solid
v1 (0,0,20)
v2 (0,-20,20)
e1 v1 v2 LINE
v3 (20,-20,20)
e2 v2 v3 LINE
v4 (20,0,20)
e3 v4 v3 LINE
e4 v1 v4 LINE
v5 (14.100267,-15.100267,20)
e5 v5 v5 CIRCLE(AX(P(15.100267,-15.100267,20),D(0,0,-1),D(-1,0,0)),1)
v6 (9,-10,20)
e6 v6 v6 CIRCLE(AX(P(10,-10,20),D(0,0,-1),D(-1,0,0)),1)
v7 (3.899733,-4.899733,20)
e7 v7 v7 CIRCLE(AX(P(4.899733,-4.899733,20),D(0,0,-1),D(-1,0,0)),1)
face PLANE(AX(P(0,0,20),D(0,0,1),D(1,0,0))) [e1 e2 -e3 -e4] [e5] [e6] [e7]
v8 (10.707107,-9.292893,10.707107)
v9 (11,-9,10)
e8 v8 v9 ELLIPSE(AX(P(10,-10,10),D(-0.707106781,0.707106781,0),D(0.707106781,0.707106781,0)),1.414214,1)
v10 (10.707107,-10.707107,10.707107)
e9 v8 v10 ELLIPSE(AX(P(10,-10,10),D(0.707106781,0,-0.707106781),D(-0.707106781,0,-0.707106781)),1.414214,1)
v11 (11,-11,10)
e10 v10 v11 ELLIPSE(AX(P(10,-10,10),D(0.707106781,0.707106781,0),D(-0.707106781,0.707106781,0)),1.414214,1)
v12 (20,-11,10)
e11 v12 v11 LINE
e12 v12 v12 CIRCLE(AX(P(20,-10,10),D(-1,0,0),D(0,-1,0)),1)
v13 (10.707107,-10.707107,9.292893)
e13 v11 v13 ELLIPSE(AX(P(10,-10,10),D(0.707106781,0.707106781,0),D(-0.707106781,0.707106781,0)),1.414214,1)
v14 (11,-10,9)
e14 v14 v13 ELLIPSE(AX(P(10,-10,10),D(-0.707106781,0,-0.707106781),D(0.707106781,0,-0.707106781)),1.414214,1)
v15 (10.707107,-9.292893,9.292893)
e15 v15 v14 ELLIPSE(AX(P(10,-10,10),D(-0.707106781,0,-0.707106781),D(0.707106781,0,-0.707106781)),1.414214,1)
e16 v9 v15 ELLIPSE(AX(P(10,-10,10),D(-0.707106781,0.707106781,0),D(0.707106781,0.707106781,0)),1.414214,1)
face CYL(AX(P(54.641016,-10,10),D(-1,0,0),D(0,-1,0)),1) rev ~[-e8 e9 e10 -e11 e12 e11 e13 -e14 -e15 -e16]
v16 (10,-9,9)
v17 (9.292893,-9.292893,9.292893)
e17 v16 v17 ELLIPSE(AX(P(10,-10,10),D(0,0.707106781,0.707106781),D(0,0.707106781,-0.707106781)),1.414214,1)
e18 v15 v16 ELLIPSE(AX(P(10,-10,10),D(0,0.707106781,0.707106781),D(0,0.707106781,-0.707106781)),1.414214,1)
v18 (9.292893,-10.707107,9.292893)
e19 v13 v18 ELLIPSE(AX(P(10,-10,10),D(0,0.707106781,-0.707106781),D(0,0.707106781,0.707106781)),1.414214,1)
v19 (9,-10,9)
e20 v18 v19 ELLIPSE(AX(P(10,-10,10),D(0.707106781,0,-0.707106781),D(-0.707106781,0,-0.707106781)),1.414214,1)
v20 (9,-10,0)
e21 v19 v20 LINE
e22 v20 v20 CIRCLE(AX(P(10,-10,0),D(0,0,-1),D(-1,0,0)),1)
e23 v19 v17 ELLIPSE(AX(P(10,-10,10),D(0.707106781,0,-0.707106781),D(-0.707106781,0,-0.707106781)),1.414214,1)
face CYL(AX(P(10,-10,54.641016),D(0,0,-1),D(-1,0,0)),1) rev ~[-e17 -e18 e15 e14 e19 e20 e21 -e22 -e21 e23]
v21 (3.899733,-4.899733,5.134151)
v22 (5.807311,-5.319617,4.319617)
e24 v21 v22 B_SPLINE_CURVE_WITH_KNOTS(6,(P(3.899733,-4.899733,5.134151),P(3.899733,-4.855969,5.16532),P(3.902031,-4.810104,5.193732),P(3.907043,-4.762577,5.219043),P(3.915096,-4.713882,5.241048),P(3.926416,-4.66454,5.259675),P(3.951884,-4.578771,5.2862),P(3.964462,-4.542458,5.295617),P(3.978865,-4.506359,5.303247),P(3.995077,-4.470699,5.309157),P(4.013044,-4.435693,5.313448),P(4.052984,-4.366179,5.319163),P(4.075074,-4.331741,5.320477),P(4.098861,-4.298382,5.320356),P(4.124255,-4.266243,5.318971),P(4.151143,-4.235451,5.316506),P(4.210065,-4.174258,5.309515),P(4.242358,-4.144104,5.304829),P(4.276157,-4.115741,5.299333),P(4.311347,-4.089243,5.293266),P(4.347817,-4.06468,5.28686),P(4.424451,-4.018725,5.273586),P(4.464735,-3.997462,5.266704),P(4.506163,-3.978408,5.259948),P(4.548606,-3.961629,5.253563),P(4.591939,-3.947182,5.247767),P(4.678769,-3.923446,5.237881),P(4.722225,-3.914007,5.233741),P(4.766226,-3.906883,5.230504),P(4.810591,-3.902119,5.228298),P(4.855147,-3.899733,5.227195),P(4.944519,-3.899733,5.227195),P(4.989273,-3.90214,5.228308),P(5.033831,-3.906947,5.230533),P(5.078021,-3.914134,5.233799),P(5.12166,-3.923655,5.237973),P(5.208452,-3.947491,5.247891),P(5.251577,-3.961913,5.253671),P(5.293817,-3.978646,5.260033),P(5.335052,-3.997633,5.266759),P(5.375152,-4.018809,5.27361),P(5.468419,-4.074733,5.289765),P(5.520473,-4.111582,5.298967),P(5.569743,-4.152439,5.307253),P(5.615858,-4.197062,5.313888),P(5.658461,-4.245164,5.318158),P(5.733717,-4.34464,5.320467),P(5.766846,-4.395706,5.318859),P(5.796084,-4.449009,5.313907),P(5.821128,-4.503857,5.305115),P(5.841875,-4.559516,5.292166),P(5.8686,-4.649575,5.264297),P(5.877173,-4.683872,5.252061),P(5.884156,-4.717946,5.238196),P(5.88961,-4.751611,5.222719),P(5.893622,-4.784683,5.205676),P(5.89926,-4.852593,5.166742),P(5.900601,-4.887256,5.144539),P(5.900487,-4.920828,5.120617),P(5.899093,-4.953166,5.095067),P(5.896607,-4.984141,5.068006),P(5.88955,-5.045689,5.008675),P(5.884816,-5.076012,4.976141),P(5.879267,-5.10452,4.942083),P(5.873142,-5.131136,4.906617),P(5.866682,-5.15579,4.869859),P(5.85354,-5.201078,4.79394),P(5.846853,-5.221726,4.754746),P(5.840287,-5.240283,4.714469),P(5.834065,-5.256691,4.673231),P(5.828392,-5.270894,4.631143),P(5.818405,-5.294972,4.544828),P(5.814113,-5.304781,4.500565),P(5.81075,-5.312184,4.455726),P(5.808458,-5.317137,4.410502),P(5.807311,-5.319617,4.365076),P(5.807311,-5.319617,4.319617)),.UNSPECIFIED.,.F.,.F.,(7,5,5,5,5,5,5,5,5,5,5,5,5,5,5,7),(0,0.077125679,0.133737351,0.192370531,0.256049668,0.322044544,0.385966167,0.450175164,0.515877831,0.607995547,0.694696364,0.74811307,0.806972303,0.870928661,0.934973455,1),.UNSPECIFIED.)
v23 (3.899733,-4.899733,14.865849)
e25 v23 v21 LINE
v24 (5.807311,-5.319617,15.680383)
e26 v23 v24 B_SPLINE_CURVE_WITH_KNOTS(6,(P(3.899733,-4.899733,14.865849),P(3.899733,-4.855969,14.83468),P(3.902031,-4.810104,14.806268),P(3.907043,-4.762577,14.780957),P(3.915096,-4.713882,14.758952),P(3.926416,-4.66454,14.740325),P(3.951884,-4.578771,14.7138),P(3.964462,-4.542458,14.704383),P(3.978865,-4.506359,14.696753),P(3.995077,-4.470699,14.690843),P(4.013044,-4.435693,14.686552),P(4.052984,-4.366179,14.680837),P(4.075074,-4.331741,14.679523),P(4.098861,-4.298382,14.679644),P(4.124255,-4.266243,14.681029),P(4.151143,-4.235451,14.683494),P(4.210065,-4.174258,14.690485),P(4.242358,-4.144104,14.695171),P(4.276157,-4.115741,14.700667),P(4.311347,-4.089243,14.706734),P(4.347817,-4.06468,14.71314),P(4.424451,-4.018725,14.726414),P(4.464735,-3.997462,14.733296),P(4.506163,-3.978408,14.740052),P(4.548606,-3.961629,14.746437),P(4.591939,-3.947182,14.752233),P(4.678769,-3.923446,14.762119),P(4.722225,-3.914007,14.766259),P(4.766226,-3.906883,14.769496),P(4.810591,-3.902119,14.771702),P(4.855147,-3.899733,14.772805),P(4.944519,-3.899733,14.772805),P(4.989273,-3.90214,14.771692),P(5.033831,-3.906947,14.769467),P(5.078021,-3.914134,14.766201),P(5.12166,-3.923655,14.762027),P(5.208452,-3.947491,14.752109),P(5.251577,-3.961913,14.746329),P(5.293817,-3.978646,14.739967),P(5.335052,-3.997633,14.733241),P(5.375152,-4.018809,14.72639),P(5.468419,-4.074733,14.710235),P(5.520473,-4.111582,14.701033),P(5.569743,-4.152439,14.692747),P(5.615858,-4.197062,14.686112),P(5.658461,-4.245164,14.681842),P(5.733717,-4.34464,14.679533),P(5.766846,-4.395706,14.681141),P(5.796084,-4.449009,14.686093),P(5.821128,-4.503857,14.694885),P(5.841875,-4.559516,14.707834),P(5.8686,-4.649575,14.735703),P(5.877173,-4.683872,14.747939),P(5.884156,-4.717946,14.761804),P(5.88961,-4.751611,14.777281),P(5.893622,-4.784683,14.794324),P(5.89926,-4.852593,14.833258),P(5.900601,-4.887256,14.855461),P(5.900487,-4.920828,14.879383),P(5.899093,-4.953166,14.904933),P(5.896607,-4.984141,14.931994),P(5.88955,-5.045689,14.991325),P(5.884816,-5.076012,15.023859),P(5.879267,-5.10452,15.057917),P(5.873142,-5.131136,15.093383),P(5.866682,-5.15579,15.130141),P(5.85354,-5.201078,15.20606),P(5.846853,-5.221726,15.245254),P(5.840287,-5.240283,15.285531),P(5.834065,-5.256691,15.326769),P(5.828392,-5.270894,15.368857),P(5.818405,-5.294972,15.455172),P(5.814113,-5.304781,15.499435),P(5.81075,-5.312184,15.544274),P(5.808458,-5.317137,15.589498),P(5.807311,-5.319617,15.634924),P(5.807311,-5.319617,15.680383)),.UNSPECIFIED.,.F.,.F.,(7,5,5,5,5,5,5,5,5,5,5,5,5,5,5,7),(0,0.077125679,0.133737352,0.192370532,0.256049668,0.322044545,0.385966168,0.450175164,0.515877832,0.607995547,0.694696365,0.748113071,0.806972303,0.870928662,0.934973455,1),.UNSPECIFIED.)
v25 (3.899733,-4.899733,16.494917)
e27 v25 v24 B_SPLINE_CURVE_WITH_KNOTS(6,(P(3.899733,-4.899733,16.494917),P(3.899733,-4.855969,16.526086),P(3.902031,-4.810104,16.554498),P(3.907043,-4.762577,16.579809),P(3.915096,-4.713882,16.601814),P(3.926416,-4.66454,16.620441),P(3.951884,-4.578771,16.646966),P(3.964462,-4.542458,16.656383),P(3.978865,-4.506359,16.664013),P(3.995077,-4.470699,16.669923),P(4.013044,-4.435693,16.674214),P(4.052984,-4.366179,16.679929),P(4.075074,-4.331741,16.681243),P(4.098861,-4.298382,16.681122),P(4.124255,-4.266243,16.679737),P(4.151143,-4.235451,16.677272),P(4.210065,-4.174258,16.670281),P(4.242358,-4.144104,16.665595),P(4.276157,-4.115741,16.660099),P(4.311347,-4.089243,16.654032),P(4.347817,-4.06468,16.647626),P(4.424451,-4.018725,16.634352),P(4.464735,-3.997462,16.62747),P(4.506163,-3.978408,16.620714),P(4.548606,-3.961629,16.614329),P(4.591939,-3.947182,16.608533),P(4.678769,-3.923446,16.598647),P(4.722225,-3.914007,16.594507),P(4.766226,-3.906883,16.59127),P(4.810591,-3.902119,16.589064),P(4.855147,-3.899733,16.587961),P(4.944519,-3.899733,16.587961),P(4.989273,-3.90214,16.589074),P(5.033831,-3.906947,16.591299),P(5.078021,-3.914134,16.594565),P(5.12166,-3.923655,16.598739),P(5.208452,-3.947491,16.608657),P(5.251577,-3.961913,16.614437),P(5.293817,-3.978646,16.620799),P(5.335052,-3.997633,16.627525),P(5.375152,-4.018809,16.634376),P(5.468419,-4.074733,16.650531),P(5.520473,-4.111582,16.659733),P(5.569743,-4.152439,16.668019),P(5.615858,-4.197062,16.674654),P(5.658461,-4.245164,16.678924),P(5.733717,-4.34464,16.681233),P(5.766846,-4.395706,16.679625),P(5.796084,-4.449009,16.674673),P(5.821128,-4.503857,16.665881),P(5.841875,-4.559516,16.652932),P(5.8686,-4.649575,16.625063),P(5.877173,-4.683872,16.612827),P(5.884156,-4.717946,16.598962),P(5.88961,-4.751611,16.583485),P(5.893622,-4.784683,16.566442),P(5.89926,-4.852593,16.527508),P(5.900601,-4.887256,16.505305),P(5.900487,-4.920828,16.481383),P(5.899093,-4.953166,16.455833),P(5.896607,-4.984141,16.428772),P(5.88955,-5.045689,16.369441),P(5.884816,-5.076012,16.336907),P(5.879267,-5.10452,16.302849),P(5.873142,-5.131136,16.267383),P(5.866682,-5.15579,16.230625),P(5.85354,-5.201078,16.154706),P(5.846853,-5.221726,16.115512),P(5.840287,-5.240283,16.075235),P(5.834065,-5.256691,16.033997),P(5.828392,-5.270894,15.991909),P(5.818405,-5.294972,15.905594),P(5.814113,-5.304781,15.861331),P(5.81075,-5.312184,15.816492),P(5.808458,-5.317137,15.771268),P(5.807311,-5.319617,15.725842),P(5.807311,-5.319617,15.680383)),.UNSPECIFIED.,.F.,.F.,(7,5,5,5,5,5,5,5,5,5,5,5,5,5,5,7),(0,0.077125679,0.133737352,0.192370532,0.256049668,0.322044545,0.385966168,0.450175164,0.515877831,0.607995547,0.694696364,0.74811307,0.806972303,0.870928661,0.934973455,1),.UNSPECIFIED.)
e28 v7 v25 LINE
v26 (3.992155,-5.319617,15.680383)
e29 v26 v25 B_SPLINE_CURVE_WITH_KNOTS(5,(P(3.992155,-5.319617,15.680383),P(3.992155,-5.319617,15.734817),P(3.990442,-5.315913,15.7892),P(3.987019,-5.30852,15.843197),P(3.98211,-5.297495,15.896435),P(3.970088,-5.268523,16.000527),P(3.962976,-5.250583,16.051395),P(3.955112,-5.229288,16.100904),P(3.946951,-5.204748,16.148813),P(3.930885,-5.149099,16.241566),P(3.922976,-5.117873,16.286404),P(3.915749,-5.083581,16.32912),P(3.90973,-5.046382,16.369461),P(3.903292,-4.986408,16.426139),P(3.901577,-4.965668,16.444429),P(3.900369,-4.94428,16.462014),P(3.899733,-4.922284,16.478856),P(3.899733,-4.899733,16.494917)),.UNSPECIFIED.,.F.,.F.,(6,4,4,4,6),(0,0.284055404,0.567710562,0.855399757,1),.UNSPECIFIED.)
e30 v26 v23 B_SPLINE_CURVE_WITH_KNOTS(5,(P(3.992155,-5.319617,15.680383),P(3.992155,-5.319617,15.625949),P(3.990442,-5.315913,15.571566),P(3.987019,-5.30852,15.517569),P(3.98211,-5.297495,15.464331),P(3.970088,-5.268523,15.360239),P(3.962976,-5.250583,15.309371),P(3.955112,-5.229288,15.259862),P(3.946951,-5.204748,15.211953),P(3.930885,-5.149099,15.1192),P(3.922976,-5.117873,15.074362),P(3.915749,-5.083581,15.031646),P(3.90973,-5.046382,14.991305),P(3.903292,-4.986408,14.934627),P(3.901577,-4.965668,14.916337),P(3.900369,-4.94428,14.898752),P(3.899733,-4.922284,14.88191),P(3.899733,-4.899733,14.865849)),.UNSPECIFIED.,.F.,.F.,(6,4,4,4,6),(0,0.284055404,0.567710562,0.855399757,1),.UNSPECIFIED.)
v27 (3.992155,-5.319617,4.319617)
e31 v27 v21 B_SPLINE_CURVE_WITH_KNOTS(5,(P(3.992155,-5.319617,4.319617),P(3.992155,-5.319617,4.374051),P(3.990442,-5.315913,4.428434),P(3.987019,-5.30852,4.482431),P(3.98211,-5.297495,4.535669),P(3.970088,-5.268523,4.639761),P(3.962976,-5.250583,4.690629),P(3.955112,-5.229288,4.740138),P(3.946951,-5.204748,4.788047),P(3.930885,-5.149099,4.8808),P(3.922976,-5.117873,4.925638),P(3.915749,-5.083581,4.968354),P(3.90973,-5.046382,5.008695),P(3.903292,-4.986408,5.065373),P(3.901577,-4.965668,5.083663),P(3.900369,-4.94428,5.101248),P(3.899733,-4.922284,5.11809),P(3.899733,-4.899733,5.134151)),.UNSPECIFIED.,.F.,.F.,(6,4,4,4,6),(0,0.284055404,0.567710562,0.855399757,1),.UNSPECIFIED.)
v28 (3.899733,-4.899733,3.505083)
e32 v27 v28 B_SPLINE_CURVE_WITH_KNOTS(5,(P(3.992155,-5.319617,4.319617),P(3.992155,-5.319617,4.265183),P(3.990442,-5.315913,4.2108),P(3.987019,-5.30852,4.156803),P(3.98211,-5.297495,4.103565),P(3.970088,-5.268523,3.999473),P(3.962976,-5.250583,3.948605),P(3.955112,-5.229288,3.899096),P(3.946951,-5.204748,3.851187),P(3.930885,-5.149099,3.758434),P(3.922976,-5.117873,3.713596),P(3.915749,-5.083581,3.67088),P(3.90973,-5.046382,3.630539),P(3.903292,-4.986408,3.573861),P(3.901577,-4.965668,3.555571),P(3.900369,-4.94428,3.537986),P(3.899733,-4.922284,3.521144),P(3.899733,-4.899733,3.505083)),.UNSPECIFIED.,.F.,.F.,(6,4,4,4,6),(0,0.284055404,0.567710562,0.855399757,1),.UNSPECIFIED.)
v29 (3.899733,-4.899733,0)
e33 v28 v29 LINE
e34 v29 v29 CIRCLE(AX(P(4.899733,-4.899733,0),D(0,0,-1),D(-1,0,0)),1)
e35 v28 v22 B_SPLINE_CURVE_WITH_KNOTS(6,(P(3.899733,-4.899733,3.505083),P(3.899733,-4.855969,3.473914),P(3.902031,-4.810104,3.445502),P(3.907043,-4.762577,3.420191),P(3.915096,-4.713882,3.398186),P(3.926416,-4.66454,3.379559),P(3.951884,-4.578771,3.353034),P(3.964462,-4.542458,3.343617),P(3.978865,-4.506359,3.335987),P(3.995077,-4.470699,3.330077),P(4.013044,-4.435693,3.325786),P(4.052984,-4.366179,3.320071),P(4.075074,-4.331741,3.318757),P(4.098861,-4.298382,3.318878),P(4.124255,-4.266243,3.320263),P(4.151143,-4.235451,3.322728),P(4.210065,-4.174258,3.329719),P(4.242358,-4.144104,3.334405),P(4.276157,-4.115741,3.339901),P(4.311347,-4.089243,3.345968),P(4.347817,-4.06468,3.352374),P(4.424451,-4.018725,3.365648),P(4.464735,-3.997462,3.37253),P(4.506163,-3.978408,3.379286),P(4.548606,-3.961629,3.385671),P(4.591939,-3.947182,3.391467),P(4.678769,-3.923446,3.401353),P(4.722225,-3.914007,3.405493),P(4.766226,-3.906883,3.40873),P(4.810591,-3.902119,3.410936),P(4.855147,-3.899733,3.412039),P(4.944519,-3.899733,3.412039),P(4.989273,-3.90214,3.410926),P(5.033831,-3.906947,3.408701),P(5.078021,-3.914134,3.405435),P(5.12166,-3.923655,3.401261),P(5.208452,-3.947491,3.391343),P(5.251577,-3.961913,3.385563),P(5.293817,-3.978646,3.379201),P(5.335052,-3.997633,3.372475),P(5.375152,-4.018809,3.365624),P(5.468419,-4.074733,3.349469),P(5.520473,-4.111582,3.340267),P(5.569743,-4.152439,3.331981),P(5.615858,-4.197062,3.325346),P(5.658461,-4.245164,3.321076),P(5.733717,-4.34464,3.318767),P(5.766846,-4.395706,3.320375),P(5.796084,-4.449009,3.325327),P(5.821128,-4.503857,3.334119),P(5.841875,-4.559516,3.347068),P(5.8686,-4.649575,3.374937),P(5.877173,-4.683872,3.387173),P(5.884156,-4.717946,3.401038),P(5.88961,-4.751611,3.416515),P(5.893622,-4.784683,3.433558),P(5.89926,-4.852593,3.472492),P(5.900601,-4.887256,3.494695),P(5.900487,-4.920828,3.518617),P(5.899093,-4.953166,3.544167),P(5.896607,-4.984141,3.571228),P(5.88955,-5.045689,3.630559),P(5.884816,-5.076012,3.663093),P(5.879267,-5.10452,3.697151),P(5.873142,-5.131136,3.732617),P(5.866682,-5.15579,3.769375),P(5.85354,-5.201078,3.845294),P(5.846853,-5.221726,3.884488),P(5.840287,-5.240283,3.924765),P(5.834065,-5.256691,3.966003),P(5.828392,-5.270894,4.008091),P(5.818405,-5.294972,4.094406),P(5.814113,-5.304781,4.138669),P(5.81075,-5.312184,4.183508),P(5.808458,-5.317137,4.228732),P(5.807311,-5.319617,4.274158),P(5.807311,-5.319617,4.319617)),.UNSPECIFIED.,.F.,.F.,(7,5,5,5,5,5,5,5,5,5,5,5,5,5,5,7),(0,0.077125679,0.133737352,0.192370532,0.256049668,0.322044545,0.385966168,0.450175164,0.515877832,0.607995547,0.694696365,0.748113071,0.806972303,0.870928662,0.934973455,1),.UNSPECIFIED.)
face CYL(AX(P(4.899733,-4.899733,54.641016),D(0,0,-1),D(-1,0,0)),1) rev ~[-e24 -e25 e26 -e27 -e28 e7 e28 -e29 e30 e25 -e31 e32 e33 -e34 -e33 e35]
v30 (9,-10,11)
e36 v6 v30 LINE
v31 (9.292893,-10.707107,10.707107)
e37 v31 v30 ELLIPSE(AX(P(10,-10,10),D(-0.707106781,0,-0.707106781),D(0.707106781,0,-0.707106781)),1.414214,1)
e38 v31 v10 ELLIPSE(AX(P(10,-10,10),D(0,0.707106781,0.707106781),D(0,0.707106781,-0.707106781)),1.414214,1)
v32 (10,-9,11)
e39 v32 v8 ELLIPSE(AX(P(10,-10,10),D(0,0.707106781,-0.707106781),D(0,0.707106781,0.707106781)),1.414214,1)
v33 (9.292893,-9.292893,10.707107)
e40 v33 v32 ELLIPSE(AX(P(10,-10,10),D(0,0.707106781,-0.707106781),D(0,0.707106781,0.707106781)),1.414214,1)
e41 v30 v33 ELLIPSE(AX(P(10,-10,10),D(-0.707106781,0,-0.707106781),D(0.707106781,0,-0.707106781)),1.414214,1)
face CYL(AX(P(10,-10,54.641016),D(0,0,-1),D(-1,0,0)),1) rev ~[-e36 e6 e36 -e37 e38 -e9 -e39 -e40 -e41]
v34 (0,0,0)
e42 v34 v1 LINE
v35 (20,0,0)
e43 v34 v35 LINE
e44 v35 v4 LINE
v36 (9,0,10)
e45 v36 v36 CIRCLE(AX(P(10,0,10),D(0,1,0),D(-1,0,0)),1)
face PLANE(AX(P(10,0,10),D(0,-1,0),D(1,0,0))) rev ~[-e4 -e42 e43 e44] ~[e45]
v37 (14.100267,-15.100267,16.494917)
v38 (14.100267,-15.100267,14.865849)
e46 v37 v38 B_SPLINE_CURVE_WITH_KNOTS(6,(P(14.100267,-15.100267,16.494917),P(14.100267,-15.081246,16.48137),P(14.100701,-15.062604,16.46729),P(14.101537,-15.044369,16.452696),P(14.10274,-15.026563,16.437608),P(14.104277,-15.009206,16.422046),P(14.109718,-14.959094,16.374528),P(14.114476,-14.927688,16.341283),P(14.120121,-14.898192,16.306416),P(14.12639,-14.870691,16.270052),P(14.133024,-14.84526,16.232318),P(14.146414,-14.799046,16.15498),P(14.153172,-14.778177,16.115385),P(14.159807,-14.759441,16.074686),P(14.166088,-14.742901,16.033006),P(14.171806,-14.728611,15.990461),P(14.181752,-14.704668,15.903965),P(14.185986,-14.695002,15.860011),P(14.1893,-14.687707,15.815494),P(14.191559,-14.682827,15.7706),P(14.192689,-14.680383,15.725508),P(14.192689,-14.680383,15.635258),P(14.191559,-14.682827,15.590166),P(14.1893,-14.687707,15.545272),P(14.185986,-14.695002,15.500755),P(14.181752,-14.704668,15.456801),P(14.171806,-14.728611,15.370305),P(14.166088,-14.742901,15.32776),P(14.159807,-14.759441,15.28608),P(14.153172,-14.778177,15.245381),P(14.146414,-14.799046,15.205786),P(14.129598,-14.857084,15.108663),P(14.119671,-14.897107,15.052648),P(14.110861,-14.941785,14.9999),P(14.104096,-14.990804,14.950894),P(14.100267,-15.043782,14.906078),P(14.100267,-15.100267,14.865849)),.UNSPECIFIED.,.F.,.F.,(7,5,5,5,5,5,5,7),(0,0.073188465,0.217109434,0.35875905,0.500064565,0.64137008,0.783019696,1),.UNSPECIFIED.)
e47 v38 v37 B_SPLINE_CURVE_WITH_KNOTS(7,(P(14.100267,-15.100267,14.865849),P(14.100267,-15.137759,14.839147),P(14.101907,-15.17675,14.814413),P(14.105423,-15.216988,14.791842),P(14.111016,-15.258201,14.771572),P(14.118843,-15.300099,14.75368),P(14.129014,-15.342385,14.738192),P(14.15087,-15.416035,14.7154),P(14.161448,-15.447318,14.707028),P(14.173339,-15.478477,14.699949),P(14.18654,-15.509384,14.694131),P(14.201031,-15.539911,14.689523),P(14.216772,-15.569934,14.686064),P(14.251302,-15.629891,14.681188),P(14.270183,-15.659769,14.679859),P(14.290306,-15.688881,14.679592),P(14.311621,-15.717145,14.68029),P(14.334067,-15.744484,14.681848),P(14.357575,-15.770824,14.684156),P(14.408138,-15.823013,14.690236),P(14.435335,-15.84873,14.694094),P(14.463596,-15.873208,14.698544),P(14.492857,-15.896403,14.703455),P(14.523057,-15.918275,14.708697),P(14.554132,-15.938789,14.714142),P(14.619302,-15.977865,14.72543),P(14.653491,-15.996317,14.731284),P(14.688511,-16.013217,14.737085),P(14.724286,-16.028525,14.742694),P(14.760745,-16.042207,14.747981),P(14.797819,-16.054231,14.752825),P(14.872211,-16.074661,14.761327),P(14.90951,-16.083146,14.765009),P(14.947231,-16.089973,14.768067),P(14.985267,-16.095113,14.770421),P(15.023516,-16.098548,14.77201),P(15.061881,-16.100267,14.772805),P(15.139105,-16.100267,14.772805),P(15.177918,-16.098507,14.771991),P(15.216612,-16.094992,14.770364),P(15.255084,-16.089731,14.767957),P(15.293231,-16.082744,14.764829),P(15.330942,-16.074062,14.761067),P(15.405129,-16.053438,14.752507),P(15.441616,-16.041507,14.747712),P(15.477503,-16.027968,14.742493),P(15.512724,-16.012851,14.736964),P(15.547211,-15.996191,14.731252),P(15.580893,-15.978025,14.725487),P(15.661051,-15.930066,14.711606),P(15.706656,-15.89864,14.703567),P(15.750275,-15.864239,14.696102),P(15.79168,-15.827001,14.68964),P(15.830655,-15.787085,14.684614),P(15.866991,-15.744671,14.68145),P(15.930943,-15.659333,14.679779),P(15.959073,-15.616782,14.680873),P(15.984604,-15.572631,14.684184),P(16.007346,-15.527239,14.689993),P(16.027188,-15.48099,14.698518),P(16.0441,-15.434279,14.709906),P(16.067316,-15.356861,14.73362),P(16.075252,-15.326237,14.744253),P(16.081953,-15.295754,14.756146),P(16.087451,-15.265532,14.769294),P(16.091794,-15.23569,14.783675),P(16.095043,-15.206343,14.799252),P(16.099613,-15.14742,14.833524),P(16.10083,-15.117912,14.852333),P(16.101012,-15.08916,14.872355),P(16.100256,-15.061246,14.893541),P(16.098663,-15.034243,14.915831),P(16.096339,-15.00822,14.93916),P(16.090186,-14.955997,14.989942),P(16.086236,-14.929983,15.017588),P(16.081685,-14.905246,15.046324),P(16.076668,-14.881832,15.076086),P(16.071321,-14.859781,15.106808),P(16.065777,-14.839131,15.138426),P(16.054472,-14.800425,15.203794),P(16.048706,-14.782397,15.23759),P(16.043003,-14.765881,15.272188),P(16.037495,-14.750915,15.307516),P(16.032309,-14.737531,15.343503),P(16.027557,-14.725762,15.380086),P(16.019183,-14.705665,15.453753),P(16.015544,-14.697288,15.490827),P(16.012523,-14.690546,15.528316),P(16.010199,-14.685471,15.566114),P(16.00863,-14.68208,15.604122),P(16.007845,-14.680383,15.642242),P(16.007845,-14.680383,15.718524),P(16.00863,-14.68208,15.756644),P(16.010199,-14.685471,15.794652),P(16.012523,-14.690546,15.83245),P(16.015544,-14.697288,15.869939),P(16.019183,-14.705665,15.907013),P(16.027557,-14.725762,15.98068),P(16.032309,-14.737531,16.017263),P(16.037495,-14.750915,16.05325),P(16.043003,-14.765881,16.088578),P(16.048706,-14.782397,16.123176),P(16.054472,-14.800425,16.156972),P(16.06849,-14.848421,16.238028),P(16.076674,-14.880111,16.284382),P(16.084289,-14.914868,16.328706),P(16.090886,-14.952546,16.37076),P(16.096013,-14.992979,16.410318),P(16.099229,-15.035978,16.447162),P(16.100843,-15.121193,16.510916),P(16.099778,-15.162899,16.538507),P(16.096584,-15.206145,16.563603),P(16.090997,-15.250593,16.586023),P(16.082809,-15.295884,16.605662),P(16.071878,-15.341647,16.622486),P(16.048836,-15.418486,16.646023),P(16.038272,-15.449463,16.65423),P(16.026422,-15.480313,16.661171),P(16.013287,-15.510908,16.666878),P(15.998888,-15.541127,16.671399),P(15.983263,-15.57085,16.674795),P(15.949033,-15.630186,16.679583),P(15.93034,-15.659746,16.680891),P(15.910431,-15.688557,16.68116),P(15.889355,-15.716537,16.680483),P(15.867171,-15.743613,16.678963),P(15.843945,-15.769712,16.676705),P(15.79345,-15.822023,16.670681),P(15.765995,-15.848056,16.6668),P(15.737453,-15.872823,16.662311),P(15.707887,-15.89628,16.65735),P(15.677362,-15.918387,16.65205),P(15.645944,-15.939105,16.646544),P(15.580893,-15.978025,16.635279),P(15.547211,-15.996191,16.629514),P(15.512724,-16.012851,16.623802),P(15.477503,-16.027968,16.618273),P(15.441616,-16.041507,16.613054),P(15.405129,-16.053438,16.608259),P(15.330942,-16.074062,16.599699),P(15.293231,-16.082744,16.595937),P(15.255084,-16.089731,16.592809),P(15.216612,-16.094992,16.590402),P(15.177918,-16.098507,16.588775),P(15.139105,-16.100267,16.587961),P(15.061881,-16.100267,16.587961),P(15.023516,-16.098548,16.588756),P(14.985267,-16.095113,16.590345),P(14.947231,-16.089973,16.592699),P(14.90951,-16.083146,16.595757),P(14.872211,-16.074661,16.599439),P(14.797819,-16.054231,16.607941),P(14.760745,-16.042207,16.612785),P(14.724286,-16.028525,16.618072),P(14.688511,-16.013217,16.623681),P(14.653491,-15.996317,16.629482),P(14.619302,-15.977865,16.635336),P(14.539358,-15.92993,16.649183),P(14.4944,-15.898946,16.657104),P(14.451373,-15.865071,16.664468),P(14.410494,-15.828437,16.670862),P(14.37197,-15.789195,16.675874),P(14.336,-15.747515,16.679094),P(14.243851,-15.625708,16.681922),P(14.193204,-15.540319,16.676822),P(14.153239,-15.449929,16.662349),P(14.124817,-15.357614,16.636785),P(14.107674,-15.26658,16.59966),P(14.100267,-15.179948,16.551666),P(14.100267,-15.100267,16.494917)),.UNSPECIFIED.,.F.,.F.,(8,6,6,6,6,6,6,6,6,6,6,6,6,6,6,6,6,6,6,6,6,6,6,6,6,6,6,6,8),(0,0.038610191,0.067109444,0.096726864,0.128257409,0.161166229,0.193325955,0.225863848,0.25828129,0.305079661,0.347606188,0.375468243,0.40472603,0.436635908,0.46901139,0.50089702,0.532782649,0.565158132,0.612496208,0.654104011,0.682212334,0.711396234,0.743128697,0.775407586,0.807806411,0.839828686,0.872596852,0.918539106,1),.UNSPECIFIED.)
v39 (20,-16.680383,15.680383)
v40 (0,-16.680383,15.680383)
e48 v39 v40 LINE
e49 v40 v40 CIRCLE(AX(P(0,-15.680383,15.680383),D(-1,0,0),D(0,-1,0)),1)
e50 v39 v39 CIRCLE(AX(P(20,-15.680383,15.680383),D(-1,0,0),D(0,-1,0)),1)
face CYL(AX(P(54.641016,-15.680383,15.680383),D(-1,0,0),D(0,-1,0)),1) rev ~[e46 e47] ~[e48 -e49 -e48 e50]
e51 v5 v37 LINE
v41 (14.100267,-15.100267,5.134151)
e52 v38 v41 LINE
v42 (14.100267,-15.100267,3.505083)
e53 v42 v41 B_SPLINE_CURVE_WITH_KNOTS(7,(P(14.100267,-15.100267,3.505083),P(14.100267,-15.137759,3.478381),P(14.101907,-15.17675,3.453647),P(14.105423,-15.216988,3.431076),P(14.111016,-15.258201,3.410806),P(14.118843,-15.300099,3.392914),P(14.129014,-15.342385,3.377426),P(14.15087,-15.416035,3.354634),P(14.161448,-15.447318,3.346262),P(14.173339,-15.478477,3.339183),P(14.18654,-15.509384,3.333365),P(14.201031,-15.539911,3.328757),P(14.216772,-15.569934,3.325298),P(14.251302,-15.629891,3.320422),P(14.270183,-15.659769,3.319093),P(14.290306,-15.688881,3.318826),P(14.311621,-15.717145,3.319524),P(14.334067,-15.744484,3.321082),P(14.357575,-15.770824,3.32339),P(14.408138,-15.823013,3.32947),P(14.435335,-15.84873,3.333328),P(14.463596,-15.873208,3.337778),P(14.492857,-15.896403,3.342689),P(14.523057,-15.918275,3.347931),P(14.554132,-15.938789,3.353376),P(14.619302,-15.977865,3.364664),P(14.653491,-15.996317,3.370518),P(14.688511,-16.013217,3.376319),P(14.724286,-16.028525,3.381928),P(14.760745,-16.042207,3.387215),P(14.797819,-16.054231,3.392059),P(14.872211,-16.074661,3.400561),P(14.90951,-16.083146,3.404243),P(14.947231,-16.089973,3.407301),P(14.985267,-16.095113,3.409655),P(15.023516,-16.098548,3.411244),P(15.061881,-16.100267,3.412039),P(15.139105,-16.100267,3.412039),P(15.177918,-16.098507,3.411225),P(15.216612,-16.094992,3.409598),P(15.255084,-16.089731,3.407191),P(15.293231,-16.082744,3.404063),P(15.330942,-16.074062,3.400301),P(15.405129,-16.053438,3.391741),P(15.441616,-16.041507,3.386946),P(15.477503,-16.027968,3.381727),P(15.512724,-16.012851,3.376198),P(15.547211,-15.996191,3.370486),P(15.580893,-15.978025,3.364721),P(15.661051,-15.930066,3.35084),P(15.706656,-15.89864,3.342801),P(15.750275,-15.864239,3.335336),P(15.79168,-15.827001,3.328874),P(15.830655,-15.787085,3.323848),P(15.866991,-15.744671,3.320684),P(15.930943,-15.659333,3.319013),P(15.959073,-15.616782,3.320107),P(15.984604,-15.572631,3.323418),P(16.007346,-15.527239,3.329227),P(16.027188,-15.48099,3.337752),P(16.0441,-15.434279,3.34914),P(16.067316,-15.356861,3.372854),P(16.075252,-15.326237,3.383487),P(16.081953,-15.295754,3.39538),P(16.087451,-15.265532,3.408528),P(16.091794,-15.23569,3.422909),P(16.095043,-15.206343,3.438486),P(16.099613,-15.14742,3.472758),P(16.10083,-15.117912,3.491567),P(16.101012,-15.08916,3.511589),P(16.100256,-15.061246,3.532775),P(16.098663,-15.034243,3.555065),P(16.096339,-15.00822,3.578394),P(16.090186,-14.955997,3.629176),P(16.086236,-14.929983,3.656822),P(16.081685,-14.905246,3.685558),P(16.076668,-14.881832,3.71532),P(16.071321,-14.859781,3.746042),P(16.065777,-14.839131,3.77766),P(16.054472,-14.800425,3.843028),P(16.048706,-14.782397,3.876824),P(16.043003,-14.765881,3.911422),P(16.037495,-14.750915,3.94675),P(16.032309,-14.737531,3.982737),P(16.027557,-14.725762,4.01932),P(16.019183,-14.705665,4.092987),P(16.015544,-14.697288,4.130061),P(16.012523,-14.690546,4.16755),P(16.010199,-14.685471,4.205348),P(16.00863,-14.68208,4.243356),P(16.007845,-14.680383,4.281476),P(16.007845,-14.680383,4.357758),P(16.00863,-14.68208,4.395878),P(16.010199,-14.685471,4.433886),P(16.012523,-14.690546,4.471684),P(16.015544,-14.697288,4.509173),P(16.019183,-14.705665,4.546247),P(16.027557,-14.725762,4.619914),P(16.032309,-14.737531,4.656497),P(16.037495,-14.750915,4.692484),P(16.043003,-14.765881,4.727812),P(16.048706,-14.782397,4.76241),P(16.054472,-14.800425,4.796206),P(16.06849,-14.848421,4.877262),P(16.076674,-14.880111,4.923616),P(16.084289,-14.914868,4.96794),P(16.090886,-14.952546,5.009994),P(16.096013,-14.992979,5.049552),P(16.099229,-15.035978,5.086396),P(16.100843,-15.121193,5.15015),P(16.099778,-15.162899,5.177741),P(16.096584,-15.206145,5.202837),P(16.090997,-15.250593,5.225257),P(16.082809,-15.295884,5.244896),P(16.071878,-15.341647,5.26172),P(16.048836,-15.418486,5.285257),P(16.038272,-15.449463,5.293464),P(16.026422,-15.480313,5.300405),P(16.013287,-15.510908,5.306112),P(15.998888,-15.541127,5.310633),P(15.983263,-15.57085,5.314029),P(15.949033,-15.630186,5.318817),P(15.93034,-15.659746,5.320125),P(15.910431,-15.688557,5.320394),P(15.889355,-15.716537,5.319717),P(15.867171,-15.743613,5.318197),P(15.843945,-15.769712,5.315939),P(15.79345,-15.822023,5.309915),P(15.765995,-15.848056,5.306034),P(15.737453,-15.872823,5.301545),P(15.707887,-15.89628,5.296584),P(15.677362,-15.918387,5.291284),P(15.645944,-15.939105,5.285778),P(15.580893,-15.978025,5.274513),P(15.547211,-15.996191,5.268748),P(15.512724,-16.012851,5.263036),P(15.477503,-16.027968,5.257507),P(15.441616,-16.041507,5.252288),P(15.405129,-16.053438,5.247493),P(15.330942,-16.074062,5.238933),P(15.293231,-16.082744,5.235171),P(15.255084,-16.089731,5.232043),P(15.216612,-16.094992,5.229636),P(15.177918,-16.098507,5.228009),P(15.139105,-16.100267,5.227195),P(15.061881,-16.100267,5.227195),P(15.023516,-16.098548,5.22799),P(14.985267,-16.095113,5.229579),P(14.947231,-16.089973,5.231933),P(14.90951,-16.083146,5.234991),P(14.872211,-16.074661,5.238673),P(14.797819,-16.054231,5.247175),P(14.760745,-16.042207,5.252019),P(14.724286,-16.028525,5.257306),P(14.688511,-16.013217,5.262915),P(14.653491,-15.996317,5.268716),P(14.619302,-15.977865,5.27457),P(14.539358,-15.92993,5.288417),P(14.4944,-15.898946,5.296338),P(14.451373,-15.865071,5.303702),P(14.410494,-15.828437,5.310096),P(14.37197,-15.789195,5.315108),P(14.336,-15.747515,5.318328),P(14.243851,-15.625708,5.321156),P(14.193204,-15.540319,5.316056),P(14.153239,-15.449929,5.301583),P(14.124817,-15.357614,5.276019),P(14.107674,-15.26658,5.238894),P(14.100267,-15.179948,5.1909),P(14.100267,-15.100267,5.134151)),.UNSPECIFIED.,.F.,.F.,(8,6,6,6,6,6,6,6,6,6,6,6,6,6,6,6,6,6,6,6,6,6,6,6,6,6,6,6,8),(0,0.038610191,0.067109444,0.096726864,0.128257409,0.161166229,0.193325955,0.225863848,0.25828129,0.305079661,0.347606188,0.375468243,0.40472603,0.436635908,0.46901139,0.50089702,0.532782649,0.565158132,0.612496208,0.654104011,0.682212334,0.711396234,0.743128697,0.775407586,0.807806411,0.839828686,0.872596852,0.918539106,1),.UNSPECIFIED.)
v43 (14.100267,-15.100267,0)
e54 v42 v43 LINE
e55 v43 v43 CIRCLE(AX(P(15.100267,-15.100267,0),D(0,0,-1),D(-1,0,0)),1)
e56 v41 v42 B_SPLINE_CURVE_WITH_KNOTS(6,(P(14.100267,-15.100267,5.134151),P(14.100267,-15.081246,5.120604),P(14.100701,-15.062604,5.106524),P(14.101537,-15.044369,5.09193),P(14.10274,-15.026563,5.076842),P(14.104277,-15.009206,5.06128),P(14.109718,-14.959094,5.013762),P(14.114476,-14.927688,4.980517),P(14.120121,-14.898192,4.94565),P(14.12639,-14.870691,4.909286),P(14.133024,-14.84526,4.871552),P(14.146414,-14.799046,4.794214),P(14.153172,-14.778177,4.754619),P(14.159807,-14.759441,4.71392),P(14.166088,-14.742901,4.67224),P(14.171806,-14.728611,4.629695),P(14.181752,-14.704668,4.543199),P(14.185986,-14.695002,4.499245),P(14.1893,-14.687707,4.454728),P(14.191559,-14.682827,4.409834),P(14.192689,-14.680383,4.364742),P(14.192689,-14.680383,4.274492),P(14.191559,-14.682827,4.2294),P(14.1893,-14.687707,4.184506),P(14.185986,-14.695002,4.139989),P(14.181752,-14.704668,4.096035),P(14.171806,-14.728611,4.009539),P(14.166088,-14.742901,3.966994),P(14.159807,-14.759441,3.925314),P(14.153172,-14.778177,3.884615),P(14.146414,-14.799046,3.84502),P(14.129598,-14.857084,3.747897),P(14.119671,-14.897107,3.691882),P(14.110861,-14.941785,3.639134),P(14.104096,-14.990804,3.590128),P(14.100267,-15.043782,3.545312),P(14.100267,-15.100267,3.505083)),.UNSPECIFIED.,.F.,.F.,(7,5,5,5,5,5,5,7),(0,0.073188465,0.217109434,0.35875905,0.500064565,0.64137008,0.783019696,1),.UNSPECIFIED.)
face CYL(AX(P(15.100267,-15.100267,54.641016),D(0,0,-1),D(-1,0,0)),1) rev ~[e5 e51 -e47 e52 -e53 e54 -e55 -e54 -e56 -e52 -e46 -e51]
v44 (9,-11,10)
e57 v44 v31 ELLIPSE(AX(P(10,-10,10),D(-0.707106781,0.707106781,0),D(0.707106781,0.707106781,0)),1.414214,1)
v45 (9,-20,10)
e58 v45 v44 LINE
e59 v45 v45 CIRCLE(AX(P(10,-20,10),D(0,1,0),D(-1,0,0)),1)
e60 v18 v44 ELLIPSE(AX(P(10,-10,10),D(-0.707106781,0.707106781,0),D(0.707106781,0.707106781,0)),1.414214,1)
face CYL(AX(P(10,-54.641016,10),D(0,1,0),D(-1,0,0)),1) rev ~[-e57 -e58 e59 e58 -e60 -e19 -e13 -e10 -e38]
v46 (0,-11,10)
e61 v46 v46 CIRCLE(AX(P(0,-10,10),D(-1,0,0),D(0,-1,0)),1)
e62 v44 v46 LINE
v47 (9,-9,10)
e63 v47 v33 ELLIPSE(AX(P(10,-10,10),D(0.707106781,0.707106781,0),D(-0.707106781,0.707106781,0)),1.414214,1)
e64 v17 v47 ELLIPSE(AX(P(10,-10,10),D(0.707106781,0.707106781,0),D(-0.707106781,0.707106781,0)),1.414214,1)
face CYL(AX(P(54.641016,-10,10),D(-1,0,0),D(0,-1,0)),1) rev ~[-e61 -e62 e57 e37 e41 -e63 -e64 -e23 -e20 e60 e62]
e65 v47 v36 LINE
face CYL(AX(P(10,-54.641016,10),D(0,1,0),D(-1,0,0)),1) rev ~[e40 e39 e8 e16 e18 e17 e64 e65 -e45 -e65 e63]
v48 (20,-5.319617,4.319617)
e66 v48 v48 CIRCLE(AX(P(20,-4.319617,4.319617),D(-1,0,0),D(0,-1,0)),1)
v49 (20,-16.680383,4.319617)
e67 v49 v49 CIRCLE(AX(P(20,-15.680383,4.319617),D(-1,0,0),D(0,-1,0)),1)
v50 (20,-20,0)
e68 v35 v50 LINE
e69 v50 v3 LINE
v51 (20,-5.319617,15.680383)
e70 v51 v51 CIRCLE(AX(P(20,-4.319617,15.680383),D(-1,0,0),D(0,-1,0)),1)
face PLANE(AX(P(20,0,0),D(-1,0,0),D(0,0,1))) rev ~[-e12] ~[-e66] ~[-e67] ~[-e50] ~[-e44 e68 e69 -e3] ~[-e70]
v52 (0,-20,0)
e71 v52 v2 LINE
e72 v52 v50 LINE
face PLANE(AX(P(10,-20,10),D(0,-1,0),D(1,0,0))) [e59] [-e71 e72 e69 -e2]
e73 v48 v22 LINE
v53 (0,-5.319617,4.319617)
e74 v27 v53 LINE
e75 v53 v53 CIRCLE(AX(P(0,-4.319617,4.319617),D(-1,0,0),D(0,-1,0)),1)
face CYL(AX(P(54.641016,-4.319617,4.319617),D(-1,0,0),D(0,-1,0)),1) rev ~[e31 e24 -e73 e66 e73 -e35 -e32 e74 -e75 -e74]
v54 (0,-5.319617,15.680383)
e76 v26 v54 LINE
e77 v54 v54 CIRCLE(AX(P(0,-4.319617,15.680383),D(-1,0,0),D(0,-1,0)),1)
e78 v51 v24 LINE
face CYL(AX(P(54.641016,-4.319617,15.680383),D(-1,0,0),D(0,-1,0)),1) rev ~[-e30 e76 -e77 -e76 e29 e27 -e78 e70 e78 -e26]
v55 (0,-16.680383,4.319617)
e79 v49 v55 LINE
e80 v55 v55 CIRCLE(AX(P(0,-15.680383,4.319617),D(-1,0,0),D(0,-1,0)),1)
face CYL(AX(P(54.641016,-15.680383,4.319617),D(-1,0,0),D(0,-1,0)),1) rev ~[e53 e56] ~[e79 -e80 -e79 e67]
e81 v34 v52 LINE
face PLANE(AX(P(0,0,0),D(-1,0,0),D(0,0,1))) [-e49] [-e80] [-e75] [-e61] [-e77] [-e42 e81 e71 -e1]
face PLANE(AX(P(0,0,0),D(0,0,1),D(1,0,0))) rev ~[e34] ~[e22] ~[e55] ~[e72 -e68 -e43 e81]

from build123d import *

# Parameters (mm, degrees)
F0_W     = 20
F0_H     = 20
F1_DEPTH = 20
F3_D     = 2
F5_D     = 2
F7_D     = 2


with BuildPart() as f1:
    # F0 (on Front) → F1 (new body)
    with BuildSketch(Plane.XZ):
        with Locations((10, 10)):
            Rectangle(F0_W, F0_H)
    extrude(amount=F1_DEPTH)

    # F3 (through all)
    with Locations(Plane.XZ.offset(20)):
        with Locations((10, 10)):
            Hole(F3_D / 2)

    # F5 (through all)
    with Locations(Plane.XY.offset(20)):
        with Locations((4.899733, -4.899733), (10, -10), (15.100267, -15.100267)):
            Hole(F5_D / 2)

    # F7 (through all)
    with Locations(Plane.YZ.offset(20)):
        with Locations((-10, 10), (-15.680383, 15.680383), (-15.680383, 4.319617), (-4.319617, 4.319617), (-4.319617, 15.680383)):
            Hole(F7_D / 2)


solid = f1.part
